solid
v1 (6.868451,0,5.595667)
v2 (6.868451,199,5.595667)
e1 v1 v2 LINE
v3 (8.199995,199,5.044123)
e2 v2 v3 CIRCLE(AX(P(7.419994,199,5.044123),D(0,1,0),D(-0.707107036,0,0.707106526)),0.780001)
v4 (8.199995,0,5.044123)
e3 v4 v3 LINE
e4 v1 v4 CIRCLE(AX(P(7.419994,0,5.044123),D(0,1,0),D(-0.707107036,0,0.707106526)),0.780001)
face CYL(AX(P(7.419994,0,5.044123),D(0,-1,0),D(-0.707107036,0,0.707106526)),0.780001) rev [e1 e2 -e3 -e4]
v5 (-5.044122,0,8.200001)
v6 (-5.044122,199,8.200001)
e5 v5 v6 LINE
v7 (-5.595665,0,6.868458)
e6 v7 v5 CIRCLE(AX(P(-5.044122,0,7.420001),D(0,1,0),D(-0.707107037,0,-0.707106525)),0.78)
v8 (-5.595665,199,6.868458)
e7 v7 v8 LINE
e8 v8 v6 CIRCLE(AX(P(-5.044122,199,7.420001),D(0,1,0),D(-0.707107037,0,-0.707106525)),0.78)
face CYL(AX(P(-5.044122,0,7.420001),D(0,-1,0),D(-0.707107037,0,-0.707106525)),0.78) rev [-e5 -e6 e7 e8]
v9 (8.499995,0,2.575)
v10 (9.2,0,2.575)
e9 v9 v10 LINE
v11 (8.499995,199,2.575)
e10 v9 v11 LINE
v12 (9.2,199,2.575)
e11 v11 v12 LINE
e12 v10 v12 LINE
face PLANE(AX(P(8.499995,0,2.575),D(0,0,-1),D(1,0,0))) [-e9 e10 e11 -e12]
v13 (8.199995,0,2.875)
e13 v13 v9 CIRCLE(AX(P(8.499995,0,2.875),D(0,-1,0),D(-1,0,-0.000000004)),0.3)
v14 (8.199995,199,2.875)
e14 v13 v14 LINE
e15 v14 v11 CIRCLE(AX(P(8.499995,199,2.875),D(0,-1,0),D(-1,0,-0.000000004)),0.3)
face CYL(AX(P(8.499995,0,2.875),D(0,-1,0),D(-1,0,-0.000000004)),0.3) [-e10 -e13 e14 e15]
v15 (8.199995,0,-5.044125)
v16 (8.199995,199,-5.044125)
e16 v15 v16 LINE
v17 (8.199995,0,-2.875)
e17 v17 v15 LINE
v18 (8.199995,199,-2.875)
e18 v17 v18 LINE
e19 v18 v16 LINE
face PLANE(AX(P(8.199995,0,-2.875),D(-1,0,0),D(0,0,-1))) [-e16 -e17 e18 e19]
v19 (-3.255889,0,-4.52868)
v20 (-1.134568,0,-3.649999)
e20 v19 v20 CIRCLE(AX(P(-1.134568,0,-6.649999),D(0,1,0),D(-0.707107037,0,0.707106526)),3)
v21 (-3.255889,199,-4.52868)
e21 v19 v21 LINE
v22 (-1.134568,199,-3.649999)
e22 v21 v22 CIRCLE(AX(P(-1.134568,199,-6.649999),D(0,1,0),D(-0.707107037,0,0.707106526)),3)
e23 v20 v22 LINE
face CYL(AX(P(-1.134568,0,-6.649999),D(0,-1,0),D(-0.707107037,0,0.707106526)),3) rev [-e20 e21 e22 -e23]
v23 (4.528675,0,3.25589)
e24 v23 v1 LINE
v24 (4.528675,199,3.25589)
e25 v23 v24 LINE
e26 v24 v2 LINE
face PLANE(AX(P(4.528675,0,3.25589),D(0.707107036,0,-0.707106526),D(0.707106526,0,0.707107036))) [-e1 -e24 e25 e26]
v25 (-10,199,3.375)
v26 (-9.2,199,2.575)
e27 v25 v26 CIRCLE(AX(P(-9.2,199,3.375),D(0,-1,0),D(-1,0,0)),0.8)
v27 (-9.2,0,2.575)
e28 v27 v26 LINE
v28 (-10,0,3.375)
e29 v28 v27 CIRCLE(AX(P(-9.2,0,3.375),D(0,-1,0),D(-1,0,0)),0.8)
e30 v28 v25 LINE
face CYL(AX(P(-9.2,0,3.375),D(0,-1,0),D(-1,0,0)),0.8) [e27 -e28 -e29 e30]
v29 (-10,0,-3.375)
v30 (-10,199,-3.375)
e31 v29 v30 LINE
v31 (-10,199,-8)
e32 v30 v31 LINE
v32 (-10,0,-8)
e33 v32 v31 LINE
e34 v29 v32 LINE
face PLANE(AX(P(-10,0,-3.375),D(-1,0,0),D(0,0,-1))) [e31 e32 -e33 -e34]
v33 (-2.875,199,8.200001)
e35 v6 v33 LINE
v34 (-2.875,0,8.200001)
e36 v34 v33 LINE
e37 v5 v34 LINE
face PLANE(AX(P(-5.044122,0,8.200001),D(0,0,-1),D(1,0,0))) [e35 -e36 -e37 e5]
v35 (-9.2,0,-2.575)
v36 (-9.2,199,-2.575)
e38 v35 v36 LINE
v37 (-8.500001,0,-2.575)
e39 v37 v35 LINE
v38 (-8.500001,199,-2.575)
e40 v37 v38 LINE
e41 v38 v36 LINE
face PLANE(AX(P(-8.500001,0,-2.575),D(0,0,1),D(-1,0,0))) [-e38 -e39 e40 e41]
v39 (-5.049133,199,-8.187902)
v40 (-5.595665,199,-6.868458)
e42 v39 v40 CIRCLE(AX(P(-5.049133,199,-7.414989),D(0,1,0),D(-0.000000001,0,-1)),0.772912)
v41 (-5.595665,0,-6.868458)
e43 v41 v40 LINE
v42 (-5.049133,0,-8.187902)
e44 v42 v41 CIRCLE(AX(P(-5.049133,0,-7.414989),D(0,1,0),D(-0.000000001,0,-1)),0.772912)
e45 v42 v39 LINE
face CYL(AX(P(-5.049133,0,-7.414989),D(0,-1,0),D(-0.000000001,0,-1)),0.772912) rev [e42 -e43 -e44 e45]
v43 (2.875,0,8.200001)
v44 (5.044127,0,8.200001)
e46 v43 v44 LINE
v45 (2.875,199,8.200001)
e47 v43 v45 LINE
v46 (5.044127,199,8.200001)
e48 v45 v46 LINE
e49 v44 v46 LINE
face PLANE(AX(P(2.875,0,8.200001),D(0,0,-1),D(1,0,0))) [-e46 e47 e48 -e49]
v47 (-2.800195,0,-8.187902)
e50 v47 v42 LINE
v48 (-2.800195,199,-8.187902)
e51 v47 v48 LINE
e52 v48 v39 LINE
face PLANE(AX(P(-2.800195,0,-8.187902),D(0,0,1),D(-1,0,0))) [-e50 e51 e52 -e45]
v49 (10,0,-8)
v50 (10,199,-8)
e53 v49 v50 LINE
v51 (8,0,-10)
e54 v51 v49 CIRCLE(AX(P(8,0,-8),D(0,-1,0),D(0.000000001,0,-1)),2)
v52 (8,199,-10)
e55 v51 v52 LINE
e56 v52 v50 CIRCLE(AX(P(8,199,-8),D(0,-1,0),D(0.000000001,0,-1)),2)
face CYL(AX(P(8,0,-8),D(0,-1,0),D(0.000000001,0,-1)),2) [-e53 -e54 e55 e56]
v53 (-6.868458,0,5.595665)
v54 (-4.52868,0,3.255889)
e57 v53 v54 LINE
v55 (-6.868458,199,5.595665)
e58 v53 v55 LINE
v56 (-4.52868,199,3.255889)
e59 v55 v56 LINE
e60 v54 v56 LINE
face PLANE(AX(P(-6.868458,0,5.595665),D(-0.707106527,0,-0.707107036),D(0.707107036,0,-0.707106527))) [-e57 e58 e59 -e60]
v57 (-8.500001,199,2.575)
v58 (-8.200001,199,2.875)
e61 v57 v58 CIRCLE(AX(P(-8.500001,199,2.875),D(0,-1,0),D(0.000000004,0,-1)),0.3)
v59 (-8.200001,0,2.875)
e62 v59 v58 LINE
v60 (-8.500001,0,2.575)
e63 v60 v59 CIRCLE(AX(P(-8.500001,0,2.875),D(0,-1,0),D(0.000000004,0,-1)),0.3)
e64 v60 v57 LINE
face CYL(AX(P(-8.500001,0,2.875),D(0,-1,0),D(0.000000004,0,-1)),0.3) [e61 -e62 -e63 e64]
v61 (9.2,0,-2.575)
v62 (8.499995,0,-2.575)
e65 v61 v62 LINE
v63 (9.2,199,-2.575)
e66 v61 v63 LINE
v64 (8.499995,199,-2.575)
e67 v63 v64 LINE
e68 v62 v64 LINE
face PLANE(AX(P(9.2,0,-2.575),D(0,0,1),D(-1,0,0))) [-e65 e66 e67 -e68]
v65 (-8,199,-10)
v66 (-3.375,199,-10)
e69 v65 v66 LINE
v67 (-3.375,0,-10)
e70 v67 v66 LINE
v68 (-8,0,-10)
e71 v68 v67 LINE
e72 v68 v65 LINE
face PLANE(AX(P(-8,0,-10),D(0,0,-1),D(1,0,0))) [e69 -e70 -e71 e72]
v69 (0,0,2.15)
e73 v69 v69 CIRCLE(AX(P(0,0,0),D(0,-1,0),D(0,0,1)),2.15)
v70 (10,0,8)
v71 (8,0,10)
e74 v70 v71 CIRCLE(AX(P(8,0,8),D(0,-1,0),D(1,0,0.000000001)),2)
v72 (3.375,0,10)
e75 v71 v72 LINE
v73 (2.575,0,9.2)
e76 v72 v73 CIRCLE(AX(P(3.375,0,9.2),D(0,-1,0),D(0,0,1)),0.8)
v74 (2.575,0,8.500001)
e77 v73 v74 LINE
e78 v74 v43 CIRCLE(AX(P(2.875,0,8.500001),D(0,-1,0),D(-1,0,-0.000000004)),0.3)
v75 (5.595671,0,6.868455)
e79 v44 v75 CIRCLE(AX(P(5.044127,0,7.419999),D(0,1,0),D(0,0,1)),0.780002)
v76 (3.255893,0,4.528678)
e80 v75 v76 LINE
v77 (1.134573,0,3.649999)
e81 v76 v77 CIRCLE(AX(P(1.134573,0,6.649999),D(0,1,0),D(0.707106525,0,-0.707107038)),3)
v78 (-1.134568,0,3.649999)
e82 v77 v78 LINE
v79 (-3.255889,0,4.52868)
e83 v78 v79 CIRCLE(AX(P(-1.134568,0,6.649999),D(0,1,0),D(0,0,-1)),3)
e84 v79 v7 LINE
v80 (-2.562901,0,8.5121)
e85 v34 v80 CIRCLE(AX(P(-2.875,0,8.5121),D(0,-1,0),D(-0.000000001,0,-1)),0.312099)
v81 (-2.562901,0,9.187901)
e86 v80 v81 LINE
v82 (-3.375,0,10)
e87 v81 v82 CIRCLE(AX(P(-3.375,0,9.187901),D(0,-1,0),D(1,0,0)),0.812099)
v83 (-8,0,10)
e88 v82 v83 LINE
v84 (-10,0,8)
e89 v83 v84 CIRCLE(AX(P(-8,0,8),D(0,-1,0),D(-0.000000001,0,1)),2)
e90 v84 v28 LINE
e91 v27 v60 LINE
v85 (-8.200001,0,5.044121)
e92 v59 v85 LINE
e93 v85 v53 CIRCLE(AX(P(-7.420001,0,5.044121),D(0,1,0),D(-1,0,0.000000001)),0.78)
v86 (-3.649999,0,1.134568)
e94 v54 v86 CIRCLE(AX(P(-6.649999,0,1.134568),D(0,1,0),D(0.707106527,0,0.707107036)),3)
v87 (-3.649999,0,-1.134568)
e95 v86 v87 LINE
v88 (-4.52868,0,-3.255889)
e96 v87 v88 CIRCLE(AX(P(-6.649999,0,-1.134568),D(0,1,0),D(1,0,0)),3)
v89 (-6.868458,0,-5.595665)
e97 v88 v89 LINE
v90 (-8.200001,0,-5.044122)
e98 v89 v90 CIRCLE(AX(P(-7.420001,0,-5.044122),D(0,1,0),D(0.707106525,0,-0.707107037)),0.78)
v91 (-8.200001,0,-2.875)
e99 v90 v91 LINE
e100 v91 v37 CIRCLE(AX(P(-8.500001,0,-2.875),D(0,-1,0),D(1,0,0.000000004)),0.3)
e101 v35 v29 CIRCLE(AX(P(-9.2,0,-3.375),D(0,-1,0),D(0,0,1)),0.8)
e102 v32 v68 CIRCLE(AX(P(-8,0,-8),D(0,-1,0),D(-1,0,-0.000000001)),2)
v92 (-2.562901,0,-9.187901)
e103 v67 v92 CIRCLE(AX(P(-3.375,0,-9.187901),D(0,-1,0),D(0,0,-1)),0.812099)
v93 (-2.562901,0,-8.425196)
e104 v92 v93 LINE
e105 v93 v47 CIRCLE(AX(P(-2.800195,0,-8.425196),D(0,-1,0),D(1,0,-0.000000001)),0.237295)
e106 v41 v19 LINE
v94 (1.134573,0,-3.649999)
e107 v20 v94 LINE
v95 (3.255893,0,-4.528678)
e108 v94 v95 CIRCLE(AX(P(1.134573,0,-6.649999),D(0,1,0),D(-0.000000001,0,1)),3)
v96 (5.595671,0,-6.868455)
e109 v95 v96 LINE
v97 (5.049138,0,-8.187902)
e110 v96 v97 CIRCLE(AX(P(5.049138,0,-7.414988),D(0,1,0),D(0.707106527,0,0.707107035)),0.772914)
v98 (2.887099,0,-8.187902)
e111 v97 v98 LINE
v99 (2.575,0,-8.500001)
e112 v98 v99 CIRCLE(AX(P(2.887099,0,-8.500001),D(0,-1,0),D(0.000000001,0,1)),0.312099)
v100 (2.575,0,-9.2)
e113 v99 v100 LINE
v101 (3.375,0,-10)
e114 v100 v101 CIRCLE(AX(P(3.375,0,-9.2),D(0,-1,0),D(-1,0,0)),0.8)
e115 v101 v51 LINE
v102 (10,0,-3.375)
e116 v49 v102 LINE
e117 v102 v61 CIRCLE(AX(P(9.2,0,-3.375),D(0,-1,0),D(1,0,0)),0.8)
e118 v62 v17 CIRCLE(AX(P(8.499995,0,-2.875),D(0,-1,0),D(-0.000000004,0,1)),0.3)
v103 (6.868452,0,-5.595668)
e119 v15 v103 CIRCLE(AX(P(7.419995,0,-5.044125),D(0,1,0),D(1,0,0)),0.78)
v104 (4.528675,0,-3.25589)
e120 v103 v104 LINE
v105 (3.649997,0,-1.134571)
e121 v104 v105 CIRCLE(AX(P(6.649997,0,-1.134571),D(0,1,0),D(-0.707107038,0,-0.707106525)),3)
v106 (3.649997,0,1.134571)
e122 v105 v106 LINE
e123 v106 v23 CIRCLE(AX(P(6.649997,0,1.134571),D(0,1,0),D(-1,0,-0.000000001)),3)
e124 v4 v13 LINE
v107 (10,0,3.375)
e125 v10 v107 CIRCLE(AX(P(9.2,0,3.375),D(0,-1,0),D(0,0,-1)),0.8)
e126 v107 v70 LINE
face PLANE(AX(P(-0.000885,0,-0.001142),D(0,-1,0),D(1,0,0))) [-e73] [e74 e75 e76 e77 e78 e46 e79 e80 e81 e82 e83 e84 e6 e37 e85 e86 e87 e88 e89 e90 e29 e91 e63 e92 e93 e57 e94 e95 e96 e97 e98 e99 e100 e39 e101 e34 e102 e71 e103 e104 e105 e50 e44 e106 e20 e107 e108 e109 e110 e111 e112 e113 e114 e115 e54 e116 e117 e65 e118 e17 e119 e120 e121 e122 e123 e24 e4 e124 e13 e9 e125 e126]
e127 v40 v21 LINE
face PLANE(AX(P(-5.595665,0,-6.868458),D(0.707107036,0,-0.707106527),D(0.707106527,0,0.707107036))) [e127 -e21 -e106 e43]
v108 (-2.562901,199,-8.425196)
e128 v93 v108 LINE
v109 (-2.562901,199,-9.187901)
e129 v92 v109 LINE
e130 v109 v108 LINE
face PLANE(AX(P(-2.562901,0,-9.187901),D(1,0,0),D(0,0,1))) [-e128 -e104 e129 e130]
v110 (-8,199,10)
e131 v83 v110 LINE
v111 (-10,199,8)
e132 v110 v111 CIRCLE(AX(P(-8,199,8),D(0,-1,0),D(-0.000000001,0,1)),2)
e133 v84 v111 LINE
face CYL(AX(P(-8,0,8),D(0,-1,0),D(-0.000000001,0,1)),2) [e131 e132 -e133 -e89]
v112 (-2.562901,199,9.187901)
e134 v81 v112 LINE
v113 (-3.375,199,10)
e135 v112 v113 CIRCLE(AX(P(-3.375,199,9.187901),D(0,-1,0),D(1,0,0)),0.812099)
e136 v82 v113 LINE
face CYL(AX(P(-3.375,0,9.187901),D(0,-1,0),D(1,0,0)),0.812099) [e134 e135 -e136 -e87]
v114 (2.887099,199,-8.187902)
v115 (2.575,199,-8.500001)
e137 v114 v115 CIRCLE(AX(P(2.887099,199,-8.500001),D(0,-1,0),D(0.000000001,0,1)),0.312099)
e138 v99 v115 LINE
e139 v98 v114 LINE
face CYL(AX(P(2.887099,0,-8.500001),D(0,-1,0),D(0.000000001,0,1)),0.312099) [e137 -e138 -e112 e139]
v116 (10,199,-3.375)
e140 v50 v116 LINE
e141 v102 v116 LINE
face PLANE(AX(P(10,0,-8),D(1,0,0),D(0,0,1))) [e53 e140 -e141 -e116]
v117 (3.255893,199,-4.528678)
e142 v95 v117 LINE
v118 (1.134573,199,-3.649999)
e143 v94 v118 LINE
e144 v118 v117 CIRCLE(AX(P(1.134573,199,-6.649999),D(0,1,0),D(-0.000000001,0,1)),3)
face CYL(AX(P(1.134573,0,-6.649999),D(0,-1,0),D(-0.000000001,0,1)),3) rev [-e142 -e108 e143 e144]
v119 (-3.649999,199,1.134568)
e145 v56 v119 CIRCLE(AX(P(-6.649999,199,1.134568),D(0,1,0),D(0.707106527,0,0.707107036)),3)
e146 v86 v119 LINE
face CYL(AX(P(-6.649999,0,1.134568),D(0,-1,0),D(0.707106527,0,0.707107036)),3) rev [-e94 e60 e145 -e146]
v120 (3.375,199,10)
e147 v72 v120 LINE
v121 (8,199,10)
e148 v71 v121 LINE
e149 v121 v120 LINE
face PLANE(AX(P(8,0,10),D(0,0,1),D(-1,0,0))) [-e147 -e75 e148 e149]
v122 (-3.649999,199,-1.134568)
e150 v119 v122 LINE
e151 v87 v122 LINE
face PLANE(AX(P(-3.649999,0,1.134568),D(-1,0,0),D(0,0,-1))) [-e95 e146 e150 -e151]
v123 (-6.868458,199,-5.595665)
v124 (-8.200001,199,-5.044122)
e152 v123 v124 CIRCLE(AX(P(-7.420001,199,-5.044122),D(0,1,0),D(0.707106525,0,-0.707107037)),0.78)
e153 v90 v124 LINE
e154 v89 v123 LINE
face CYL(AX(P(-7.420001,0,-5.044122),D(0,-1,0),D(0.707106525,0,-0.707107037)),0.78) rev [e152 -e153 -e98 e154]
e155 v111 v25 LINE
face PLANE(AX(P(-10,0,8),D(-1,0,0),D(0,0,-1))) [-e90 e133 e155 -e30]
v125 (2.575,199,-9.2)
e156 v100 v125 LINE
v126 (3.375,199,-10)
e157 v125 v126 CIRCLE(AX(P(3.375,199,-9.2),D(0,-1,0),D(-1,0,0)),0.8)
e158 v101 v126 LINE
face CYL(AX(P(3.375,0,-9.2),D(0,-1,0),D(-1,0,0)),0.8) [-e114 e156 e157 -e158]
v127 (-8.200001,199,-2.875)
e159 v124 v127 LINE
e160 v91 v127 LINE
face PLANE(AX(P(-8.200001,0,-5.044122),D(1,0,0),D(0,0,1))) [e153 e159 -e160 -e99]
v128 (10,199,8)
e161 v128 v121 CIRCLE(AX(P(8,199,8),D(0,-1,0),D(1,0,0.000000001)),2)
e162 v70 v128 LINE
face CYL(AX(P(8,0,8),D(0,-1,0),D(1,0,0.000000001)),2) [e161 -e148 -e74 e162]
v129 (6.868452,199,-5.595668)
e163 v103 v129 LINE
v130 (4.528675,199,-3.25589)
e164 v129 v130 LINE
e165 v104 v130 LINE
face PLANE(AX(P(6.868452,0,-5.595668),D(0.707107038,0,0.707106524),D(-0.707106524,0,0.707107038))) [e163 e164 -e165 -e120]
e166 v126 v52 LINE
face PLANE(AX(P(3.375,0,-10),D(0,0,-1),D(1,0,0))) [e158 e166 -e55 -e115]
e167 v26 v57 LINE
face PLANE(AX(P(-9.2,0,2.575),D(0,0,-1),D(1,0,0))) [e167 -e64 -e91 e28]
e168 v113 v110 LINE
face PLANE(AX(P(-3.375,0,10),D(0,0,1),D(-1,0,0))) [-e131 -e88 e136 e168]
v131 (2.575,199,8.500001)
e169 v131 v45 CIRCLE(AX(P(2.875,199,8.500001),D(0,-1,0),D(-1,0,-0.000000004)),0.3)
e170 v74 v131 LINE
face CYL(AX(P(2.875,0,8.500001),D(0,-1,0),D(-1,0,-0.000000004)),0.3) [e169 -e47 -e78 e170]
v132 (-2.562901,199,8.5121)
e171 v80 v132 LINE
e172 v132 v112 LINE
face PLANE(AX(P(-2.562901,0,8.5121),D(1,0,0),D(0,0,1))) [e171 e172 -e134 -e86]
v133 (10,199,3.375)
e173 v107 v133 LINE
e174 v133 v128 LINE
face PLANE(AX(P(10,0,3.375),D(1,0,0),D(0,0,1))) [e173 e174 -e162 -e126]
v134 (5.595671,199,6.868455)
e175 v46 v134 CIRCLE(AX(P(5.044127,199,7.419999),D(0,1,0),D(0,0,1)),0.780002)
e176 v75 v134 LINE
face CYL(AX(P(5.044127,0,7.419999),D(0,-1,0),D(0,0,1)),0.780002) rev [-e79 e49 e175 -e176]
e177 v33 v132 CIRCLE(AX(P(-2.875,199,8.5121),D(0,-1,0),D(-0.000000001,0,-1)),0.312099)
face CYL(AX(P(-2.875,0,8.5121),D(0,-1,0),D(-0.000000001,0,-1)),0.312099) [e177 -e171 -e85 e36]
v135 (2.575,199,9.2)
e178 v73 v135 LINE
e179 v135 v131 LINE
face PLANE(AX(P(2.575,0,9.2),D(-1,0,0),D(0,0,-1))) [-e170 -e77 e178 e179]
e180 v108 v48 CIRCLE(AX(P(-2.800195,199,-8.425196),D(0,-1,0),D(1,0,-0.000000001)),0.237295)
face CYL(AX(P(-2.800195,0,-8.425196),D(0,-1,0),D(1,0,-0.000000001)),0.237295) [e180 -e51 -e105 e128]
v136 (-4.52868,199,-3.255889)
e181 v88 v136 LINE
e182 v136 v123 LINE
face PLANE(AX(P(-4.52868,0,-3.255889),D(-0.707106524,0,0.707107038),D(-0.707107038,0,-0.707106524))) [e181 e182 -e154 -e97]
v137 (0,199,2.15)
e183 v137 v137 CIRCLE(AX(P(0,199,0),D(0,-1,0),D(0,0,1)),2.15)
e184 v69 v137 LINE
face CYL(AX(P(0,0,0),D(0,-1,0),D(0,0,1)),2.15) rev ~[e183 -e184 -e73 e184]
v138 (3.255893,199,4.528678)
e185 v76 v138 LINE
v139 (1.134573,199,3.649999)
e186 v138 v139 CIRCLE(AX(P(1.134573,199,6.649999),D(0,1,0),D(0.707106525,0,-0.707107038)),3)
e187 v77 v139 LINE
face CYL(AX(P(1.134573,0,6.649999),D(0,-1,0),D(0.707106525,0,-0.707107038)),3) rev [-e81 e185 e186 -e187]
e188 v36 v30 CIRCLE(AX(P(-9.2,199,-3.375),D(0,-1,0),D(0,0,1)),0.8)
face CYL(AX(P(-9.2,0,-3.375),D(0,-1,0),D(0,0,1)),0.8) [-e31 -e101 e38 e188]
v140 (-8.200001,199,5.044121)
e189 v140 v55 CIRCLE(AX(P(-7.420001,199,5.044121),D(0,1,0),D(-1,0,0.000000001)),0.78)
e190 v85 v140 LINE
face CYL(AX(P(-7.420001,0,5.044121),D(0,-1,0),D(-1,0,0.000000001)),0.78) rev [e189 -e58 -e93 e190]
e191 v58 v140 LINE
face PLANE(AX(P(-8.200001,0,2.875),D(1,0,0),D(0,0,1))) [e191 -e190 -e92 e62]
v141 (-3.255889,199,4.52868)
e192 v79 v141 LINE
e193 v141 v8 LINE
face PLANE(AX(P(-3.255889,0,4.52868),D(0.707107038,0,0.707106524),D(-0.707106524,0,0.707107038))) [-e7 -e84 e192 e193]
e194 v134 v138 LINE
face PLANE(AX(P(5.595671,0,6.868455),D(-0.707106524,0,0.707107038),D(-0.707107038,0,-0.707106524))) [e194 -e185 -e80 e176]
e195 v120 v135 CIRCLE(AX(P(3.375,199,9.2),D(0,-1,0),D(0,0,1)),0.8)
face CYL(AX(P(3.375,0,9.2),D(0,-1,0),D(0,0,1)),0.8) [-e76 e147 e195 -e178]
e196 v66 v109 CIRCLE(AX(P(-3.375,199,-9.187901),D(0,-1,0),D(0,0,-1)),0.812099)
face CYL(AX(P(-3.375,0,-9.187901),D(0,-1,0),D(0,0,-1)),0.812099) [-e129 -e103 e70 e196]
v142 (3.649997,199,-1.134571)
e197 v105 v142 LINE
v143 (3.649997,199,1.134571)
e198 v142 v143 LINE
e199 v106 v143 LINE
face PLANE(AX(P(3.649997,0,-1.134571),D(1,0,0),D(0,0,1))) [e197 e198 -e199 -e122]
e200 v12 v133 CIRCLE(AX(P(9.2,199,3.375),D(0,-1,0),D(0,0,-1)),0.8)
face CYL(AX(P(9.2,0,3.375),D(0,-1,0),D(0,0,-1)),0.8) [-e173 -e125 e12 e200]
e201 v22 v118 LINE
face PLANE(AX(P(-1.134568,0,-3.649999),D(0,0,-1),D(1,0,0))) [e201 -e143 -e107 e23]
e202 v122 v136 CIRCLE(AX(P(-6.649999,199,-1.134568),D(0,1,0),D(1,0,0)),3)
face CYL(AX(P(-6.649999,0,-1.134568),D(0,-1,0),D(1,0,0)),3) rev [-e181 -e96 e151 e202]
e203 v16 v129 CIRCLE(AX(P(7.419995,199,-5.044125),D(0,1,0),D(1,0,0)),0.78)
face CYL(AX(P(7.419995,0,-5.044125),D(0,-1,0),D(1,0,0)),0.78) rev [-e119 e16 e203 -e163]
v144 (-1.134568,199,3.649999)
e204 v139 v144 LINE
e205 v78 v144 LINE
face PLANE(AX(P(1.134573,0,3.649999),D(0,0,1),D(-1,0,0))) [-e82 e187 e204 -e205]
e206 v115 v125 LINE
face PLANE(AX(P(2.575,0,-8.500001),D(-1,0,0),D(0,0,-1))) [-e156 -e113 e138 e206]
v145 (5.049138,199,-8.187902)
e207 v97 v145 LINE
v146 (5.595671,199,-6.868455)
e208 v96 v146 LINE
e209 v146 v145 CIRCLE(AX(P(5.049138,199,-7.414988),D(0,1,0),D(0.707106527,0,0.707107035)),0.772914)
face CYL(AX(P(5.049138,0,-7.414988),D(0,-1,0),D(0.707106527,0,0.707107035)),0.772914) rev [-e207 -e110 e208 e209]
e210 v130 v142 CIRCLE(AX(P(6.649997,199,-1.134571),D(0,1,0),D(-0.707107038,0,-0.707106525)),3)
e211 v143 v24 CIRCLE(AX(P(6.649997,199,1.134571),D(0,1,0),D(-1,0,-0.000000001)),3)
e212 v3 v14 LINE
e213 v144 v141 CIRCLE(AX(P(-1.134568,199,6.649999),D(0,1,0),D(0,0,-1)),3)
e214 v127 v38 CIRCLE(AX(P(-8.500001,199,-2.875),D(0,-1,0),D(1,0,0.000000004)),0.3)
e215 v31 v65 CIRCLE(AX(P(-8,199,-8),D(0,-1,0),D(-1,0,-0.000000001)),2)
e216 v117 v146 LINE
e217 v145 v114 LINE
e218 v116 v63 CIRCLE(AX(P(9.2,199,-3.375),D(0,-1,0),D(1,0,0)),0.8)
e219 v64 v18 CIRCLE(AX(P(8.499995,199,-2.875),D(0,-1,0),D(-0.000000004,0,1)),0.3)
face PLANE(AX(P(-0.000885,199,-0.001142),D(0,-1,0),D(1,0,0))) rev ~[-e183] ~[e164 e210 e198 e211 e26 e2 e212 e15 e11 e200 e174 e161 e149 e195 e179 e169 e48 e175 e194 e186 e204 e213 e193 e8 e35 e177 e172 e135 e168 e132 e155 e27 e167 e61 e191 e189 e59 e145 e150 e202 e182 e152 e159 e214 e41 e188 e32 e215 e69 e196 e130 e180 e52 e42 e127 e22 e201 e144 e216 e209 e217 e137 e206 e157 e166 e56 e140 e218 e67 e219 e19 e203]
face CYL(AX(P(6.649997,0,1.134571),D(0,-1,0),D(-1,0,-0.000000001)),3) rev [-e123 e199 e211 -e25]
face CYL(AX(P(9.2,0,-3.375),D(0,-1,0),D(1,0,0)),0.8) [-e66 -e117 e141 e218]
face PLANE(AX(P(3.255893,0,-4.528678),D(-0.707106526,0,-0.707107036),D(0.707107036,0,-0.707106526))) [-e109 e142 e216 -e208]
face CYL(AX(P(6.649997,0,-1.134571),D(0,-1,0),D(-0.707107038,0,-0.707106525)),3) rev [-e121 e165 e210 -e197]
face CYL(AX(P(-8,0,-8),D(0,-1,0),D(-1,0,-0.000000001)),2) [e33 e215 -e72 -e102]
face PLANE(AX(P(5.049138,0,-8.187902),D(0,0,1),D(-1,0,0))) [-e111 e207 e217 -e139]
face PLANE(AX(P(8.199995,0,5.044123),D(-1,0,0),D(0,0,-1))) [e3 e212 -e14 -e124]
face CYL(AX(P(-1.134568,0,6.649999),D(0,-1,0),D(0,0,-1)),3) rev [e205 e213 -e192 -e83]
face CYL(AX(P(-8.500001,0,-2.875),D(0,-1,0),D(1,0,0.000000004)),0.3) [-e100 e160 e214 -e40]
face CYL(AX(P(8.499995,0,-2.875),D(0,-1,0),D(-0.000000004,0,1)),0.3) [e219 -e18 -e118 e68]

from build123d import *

# Parameters (mm, degrees)
SKETCH1_R           = 2.15
BOSS_EXTRUDE1_DEPTH = 199


with BuildPart() as part:
    # Sketch1 → Boss-Extrude1 (new body)
    with BuildSketch(Plane.XZ):
        with BuildLine():
            Line((-3.375, 10), (-8, 10))
            ThreePointArc((-8, 10), (-9.414213562, 9.414213562), (-10, 8))
            Line((-10, 8), (-10, 3.375))
            ThreePointArc((-10, 3.375), (-9.765685425, 2.809314575), (-9.2, 2.575))
            Line((-9.2, 2.575), (-8.500000763, 2.575))
            ThreePointArc((-8.500000763, 2.575), (-8.287868729, 2.662867966), (-8.200000763, 2.875))
            Line((-8.200000763, 2.875), (-8.200000763, 5.044121369))
            ThreePointArc((-8.200000763, 5.044121369), (-7.71849397, 5.76474735), (-6.868457672, 5.595664857))
            Line((-6.868457672, 5.595664857), (-4.528679789, 3.255888659))
            ThreePointArc((-4.528679789, 3.255888659), (-3.878360978, 2.282618348), (-3.649999368, 1.134567552))
            Line((-3.649999368, 1.134567552), (-3.649999368, -1.134567779))
            ThreePointArc((-3.649999368, -1.134567779), (-3.878360979, -2.282618579), (-4.528679795, -3.255888892))
            Line((-4.528679795, -3.255888892), (-6.868457674, -5.595665072))
            ThreePointArc((-6.868457674, -5.595665072), (-7.718493971, -5.764747564), (-8.200000763, -5.044121583))
            Line((-8.200000763, -5.044121583), (-8.200000763, -2.875))
            ThreePointArc((-8.200000763, -2.875), (-8.287868729, -2.662867966), (-8.500000763, -2.575))
            Line((-8.500000763, -2.575), (-9.2, -2.575))
            ThreePointArc((-9.2, -2.575), (-9.765685425, -2.809314575), (-10, -3.375))
            Line((-10, -3.375), (-10, -8))
            ThreePointArc((-10, -8), (-9.414213562, -9.414213562), (-8, -10))
            Line((-8, -10), (-3.375, -10))
            ThreePointArc((-3.375, -10), (-2.800759206, -9.762141675), (-2.562900881, -9.187900881))
            Line((-2.562900881, -9.187900881), (-2.562900881, -8.425196206))
            ThreePointArc((-2.562900881, -8.425196206), (-2.632402849, -8.257403612), (-2.800195443, -8.187901644))
            Line((-2.800195443, -8.187901644), (-5.049133208, -8.187901644))
            ThreePointArc((-5.049133208, -8.187901644), (-5.763211193, -7.710770081), (-5.595665074, -6.868457672))
            Line((-5.595665074, -6.868457672), (-3.255888886, -4.528679799))
            ThreePointArc((-3.255888886, -4.528679799), (-2.282618575, -3.878360987), (-1.134567778, -3.649999378))
            Line((-1.134567778, -3.649999378), (1.134573171, -3.649999378))
            ThreePointArc((1.134573171, -3.649999378), (2.282622968, -3.878360573), (3.25589275, -4.52867827))
            Line((3.25589275, -4.52867827), (5.595670922, -6.868454756))
            ThreePointArc((5.595670922, -6.868454756), (5.763217861, -7.710768912), (5.049138405, -8.187901644))
            Line((5.049138405, -8.187901644), (2.887098902, -8.187901644))
            ThreePointArc((2.887098902, -8.187901644), (2.666411499, -8.279313359), (2.574999783, -8.500000763))
            Line((2.574999783, -8.500000763), (2.574999783, -9.2))
            ThreePointArc((2.574999783, -9.2), (2.809314358, -9.765685425), (3.374999783, -10))
            Line((3.374999783, -10), (8, -10))
            ThreePointArc((8, -10), (9.414213562, -9.414213562), (10, -8))
            Line((10, -8), (10, -3.375))
            ThreePointArc((10, -3.375), (9.765685425, -2.809314575), (9.2, -2.575))
            Line((9.2, -2.575), (8.499995064, -2.575))
            ThreePointArc((8.499995064, -2.575), (8.28786303, -2.662867966), (8.199995064, -2.875))
            Line((8.199995064, -2.875), (8.199995064, -5.044124934))
            ThreePointArc((8.199995064, -5.044124934), (7.71848801, -5.764751024), (6.868451574, -5.595668024))
            Line((6.868451574, -5.595668024), (4.528675393, -3.255890143))
            ThreePointArc((4.528675393, -3.255890143), (3.878357701, -2.282620364), (3.649996507, -1.13457057))
            Line((3.649996507, -1.13457057), (3.649996507, 1.134570517))
            ThreePointArc((3.649996507, 1.134570517), (3.878357702, 2.282620314), (4.528675399, 3.255890096))
            Line((4.528675399, 3.255890096), (6.868450549, 5.595666932))
            ThreePointArc((6.868450549, 5.595666932), (7.71848764, 5.764750061), (8.199995064, 5.044123416))
            Line((8.199995064, 5.044123416), (8.199995064, 2.875))
            ThreePointArc((8.199995064, 2.875), (8.28786303, 2.662867966), (8.499995064, 2.575))
            Line((8.499995064, 2.575), (9.2, 2.575))
            ThreePointArc((9.2, 2.575), (9.765685425, 2.809314575), (10, 3.375))
            Line((10, 3.375), (10, 8))
            ThreePointArc((10, 8), (9.414213562, 9.414213562), (8, 10))
            Line((8, 10), (3.374999783, 10))
            ThreePointArc((3.374999783, 10), (2.809314358, 9.765685425), (2.574999783, 9.2))
            Line((2.574999783, 9.2), (2.574999783, 8.500000763))
            ThreePointArc((2.574999783, 8.500000763), (2.662867749, 8.287868729), (2.874999783, 8.200000763))
            Line((2.874999783, 8.200000763), (5.044126937, 8.200000763))
            ThreePointArc((5.044126937, 8.200000763), (5.764754441, 7.718492764), (5.595671108, 6.868454659))
            Line((5.595671108, 6.868454659), (3.255893005, 4.528678255))
            ThreePointArc((3.255893005, 4.528678255), (2.282623225, 3.878360562), (1.134573431, 3.649999368))
            Line((1.134573431, 3.649999368), (-1.134567779, 3.649999368))
            ThreePointArc((-1.134567779, 3.649999368), (-2.282618579, 3.878360979), (-3.255888892, 4.528679795))
            Line((-3.255888892, 4.528679795), (-5.595665072, 6.868457674))
            ThreePointArc((-5.595665072, 6.868457674), (-5.764747564, 7.718493971), (-5.044121583, 8.200000763))
            Line((-5.044121583, 8.200000763), (-2.875, 8.200000763))
            ThreePointArc((-2.875, 8.200000763), (-2.654312596, 8.291412479), (-2.562900881, 8.512099882))
            Line((-2.562900881, 8.512099882), (-2.562900881, 9.187900881))
            ThreePointArc((-2.562900881, 9.187900881), (-2.800759206, 9.762141675), (-3.375, 10))
        make_face()
        with Locations(Location((0, 0, 0), (0, 0, 90))):
            Circle(SKETCH1_R, mode=Mode.SUBTRACT)
    extrude(amount=-BOSS_EXTRUDE1_DEPTH)


solid = part.part
